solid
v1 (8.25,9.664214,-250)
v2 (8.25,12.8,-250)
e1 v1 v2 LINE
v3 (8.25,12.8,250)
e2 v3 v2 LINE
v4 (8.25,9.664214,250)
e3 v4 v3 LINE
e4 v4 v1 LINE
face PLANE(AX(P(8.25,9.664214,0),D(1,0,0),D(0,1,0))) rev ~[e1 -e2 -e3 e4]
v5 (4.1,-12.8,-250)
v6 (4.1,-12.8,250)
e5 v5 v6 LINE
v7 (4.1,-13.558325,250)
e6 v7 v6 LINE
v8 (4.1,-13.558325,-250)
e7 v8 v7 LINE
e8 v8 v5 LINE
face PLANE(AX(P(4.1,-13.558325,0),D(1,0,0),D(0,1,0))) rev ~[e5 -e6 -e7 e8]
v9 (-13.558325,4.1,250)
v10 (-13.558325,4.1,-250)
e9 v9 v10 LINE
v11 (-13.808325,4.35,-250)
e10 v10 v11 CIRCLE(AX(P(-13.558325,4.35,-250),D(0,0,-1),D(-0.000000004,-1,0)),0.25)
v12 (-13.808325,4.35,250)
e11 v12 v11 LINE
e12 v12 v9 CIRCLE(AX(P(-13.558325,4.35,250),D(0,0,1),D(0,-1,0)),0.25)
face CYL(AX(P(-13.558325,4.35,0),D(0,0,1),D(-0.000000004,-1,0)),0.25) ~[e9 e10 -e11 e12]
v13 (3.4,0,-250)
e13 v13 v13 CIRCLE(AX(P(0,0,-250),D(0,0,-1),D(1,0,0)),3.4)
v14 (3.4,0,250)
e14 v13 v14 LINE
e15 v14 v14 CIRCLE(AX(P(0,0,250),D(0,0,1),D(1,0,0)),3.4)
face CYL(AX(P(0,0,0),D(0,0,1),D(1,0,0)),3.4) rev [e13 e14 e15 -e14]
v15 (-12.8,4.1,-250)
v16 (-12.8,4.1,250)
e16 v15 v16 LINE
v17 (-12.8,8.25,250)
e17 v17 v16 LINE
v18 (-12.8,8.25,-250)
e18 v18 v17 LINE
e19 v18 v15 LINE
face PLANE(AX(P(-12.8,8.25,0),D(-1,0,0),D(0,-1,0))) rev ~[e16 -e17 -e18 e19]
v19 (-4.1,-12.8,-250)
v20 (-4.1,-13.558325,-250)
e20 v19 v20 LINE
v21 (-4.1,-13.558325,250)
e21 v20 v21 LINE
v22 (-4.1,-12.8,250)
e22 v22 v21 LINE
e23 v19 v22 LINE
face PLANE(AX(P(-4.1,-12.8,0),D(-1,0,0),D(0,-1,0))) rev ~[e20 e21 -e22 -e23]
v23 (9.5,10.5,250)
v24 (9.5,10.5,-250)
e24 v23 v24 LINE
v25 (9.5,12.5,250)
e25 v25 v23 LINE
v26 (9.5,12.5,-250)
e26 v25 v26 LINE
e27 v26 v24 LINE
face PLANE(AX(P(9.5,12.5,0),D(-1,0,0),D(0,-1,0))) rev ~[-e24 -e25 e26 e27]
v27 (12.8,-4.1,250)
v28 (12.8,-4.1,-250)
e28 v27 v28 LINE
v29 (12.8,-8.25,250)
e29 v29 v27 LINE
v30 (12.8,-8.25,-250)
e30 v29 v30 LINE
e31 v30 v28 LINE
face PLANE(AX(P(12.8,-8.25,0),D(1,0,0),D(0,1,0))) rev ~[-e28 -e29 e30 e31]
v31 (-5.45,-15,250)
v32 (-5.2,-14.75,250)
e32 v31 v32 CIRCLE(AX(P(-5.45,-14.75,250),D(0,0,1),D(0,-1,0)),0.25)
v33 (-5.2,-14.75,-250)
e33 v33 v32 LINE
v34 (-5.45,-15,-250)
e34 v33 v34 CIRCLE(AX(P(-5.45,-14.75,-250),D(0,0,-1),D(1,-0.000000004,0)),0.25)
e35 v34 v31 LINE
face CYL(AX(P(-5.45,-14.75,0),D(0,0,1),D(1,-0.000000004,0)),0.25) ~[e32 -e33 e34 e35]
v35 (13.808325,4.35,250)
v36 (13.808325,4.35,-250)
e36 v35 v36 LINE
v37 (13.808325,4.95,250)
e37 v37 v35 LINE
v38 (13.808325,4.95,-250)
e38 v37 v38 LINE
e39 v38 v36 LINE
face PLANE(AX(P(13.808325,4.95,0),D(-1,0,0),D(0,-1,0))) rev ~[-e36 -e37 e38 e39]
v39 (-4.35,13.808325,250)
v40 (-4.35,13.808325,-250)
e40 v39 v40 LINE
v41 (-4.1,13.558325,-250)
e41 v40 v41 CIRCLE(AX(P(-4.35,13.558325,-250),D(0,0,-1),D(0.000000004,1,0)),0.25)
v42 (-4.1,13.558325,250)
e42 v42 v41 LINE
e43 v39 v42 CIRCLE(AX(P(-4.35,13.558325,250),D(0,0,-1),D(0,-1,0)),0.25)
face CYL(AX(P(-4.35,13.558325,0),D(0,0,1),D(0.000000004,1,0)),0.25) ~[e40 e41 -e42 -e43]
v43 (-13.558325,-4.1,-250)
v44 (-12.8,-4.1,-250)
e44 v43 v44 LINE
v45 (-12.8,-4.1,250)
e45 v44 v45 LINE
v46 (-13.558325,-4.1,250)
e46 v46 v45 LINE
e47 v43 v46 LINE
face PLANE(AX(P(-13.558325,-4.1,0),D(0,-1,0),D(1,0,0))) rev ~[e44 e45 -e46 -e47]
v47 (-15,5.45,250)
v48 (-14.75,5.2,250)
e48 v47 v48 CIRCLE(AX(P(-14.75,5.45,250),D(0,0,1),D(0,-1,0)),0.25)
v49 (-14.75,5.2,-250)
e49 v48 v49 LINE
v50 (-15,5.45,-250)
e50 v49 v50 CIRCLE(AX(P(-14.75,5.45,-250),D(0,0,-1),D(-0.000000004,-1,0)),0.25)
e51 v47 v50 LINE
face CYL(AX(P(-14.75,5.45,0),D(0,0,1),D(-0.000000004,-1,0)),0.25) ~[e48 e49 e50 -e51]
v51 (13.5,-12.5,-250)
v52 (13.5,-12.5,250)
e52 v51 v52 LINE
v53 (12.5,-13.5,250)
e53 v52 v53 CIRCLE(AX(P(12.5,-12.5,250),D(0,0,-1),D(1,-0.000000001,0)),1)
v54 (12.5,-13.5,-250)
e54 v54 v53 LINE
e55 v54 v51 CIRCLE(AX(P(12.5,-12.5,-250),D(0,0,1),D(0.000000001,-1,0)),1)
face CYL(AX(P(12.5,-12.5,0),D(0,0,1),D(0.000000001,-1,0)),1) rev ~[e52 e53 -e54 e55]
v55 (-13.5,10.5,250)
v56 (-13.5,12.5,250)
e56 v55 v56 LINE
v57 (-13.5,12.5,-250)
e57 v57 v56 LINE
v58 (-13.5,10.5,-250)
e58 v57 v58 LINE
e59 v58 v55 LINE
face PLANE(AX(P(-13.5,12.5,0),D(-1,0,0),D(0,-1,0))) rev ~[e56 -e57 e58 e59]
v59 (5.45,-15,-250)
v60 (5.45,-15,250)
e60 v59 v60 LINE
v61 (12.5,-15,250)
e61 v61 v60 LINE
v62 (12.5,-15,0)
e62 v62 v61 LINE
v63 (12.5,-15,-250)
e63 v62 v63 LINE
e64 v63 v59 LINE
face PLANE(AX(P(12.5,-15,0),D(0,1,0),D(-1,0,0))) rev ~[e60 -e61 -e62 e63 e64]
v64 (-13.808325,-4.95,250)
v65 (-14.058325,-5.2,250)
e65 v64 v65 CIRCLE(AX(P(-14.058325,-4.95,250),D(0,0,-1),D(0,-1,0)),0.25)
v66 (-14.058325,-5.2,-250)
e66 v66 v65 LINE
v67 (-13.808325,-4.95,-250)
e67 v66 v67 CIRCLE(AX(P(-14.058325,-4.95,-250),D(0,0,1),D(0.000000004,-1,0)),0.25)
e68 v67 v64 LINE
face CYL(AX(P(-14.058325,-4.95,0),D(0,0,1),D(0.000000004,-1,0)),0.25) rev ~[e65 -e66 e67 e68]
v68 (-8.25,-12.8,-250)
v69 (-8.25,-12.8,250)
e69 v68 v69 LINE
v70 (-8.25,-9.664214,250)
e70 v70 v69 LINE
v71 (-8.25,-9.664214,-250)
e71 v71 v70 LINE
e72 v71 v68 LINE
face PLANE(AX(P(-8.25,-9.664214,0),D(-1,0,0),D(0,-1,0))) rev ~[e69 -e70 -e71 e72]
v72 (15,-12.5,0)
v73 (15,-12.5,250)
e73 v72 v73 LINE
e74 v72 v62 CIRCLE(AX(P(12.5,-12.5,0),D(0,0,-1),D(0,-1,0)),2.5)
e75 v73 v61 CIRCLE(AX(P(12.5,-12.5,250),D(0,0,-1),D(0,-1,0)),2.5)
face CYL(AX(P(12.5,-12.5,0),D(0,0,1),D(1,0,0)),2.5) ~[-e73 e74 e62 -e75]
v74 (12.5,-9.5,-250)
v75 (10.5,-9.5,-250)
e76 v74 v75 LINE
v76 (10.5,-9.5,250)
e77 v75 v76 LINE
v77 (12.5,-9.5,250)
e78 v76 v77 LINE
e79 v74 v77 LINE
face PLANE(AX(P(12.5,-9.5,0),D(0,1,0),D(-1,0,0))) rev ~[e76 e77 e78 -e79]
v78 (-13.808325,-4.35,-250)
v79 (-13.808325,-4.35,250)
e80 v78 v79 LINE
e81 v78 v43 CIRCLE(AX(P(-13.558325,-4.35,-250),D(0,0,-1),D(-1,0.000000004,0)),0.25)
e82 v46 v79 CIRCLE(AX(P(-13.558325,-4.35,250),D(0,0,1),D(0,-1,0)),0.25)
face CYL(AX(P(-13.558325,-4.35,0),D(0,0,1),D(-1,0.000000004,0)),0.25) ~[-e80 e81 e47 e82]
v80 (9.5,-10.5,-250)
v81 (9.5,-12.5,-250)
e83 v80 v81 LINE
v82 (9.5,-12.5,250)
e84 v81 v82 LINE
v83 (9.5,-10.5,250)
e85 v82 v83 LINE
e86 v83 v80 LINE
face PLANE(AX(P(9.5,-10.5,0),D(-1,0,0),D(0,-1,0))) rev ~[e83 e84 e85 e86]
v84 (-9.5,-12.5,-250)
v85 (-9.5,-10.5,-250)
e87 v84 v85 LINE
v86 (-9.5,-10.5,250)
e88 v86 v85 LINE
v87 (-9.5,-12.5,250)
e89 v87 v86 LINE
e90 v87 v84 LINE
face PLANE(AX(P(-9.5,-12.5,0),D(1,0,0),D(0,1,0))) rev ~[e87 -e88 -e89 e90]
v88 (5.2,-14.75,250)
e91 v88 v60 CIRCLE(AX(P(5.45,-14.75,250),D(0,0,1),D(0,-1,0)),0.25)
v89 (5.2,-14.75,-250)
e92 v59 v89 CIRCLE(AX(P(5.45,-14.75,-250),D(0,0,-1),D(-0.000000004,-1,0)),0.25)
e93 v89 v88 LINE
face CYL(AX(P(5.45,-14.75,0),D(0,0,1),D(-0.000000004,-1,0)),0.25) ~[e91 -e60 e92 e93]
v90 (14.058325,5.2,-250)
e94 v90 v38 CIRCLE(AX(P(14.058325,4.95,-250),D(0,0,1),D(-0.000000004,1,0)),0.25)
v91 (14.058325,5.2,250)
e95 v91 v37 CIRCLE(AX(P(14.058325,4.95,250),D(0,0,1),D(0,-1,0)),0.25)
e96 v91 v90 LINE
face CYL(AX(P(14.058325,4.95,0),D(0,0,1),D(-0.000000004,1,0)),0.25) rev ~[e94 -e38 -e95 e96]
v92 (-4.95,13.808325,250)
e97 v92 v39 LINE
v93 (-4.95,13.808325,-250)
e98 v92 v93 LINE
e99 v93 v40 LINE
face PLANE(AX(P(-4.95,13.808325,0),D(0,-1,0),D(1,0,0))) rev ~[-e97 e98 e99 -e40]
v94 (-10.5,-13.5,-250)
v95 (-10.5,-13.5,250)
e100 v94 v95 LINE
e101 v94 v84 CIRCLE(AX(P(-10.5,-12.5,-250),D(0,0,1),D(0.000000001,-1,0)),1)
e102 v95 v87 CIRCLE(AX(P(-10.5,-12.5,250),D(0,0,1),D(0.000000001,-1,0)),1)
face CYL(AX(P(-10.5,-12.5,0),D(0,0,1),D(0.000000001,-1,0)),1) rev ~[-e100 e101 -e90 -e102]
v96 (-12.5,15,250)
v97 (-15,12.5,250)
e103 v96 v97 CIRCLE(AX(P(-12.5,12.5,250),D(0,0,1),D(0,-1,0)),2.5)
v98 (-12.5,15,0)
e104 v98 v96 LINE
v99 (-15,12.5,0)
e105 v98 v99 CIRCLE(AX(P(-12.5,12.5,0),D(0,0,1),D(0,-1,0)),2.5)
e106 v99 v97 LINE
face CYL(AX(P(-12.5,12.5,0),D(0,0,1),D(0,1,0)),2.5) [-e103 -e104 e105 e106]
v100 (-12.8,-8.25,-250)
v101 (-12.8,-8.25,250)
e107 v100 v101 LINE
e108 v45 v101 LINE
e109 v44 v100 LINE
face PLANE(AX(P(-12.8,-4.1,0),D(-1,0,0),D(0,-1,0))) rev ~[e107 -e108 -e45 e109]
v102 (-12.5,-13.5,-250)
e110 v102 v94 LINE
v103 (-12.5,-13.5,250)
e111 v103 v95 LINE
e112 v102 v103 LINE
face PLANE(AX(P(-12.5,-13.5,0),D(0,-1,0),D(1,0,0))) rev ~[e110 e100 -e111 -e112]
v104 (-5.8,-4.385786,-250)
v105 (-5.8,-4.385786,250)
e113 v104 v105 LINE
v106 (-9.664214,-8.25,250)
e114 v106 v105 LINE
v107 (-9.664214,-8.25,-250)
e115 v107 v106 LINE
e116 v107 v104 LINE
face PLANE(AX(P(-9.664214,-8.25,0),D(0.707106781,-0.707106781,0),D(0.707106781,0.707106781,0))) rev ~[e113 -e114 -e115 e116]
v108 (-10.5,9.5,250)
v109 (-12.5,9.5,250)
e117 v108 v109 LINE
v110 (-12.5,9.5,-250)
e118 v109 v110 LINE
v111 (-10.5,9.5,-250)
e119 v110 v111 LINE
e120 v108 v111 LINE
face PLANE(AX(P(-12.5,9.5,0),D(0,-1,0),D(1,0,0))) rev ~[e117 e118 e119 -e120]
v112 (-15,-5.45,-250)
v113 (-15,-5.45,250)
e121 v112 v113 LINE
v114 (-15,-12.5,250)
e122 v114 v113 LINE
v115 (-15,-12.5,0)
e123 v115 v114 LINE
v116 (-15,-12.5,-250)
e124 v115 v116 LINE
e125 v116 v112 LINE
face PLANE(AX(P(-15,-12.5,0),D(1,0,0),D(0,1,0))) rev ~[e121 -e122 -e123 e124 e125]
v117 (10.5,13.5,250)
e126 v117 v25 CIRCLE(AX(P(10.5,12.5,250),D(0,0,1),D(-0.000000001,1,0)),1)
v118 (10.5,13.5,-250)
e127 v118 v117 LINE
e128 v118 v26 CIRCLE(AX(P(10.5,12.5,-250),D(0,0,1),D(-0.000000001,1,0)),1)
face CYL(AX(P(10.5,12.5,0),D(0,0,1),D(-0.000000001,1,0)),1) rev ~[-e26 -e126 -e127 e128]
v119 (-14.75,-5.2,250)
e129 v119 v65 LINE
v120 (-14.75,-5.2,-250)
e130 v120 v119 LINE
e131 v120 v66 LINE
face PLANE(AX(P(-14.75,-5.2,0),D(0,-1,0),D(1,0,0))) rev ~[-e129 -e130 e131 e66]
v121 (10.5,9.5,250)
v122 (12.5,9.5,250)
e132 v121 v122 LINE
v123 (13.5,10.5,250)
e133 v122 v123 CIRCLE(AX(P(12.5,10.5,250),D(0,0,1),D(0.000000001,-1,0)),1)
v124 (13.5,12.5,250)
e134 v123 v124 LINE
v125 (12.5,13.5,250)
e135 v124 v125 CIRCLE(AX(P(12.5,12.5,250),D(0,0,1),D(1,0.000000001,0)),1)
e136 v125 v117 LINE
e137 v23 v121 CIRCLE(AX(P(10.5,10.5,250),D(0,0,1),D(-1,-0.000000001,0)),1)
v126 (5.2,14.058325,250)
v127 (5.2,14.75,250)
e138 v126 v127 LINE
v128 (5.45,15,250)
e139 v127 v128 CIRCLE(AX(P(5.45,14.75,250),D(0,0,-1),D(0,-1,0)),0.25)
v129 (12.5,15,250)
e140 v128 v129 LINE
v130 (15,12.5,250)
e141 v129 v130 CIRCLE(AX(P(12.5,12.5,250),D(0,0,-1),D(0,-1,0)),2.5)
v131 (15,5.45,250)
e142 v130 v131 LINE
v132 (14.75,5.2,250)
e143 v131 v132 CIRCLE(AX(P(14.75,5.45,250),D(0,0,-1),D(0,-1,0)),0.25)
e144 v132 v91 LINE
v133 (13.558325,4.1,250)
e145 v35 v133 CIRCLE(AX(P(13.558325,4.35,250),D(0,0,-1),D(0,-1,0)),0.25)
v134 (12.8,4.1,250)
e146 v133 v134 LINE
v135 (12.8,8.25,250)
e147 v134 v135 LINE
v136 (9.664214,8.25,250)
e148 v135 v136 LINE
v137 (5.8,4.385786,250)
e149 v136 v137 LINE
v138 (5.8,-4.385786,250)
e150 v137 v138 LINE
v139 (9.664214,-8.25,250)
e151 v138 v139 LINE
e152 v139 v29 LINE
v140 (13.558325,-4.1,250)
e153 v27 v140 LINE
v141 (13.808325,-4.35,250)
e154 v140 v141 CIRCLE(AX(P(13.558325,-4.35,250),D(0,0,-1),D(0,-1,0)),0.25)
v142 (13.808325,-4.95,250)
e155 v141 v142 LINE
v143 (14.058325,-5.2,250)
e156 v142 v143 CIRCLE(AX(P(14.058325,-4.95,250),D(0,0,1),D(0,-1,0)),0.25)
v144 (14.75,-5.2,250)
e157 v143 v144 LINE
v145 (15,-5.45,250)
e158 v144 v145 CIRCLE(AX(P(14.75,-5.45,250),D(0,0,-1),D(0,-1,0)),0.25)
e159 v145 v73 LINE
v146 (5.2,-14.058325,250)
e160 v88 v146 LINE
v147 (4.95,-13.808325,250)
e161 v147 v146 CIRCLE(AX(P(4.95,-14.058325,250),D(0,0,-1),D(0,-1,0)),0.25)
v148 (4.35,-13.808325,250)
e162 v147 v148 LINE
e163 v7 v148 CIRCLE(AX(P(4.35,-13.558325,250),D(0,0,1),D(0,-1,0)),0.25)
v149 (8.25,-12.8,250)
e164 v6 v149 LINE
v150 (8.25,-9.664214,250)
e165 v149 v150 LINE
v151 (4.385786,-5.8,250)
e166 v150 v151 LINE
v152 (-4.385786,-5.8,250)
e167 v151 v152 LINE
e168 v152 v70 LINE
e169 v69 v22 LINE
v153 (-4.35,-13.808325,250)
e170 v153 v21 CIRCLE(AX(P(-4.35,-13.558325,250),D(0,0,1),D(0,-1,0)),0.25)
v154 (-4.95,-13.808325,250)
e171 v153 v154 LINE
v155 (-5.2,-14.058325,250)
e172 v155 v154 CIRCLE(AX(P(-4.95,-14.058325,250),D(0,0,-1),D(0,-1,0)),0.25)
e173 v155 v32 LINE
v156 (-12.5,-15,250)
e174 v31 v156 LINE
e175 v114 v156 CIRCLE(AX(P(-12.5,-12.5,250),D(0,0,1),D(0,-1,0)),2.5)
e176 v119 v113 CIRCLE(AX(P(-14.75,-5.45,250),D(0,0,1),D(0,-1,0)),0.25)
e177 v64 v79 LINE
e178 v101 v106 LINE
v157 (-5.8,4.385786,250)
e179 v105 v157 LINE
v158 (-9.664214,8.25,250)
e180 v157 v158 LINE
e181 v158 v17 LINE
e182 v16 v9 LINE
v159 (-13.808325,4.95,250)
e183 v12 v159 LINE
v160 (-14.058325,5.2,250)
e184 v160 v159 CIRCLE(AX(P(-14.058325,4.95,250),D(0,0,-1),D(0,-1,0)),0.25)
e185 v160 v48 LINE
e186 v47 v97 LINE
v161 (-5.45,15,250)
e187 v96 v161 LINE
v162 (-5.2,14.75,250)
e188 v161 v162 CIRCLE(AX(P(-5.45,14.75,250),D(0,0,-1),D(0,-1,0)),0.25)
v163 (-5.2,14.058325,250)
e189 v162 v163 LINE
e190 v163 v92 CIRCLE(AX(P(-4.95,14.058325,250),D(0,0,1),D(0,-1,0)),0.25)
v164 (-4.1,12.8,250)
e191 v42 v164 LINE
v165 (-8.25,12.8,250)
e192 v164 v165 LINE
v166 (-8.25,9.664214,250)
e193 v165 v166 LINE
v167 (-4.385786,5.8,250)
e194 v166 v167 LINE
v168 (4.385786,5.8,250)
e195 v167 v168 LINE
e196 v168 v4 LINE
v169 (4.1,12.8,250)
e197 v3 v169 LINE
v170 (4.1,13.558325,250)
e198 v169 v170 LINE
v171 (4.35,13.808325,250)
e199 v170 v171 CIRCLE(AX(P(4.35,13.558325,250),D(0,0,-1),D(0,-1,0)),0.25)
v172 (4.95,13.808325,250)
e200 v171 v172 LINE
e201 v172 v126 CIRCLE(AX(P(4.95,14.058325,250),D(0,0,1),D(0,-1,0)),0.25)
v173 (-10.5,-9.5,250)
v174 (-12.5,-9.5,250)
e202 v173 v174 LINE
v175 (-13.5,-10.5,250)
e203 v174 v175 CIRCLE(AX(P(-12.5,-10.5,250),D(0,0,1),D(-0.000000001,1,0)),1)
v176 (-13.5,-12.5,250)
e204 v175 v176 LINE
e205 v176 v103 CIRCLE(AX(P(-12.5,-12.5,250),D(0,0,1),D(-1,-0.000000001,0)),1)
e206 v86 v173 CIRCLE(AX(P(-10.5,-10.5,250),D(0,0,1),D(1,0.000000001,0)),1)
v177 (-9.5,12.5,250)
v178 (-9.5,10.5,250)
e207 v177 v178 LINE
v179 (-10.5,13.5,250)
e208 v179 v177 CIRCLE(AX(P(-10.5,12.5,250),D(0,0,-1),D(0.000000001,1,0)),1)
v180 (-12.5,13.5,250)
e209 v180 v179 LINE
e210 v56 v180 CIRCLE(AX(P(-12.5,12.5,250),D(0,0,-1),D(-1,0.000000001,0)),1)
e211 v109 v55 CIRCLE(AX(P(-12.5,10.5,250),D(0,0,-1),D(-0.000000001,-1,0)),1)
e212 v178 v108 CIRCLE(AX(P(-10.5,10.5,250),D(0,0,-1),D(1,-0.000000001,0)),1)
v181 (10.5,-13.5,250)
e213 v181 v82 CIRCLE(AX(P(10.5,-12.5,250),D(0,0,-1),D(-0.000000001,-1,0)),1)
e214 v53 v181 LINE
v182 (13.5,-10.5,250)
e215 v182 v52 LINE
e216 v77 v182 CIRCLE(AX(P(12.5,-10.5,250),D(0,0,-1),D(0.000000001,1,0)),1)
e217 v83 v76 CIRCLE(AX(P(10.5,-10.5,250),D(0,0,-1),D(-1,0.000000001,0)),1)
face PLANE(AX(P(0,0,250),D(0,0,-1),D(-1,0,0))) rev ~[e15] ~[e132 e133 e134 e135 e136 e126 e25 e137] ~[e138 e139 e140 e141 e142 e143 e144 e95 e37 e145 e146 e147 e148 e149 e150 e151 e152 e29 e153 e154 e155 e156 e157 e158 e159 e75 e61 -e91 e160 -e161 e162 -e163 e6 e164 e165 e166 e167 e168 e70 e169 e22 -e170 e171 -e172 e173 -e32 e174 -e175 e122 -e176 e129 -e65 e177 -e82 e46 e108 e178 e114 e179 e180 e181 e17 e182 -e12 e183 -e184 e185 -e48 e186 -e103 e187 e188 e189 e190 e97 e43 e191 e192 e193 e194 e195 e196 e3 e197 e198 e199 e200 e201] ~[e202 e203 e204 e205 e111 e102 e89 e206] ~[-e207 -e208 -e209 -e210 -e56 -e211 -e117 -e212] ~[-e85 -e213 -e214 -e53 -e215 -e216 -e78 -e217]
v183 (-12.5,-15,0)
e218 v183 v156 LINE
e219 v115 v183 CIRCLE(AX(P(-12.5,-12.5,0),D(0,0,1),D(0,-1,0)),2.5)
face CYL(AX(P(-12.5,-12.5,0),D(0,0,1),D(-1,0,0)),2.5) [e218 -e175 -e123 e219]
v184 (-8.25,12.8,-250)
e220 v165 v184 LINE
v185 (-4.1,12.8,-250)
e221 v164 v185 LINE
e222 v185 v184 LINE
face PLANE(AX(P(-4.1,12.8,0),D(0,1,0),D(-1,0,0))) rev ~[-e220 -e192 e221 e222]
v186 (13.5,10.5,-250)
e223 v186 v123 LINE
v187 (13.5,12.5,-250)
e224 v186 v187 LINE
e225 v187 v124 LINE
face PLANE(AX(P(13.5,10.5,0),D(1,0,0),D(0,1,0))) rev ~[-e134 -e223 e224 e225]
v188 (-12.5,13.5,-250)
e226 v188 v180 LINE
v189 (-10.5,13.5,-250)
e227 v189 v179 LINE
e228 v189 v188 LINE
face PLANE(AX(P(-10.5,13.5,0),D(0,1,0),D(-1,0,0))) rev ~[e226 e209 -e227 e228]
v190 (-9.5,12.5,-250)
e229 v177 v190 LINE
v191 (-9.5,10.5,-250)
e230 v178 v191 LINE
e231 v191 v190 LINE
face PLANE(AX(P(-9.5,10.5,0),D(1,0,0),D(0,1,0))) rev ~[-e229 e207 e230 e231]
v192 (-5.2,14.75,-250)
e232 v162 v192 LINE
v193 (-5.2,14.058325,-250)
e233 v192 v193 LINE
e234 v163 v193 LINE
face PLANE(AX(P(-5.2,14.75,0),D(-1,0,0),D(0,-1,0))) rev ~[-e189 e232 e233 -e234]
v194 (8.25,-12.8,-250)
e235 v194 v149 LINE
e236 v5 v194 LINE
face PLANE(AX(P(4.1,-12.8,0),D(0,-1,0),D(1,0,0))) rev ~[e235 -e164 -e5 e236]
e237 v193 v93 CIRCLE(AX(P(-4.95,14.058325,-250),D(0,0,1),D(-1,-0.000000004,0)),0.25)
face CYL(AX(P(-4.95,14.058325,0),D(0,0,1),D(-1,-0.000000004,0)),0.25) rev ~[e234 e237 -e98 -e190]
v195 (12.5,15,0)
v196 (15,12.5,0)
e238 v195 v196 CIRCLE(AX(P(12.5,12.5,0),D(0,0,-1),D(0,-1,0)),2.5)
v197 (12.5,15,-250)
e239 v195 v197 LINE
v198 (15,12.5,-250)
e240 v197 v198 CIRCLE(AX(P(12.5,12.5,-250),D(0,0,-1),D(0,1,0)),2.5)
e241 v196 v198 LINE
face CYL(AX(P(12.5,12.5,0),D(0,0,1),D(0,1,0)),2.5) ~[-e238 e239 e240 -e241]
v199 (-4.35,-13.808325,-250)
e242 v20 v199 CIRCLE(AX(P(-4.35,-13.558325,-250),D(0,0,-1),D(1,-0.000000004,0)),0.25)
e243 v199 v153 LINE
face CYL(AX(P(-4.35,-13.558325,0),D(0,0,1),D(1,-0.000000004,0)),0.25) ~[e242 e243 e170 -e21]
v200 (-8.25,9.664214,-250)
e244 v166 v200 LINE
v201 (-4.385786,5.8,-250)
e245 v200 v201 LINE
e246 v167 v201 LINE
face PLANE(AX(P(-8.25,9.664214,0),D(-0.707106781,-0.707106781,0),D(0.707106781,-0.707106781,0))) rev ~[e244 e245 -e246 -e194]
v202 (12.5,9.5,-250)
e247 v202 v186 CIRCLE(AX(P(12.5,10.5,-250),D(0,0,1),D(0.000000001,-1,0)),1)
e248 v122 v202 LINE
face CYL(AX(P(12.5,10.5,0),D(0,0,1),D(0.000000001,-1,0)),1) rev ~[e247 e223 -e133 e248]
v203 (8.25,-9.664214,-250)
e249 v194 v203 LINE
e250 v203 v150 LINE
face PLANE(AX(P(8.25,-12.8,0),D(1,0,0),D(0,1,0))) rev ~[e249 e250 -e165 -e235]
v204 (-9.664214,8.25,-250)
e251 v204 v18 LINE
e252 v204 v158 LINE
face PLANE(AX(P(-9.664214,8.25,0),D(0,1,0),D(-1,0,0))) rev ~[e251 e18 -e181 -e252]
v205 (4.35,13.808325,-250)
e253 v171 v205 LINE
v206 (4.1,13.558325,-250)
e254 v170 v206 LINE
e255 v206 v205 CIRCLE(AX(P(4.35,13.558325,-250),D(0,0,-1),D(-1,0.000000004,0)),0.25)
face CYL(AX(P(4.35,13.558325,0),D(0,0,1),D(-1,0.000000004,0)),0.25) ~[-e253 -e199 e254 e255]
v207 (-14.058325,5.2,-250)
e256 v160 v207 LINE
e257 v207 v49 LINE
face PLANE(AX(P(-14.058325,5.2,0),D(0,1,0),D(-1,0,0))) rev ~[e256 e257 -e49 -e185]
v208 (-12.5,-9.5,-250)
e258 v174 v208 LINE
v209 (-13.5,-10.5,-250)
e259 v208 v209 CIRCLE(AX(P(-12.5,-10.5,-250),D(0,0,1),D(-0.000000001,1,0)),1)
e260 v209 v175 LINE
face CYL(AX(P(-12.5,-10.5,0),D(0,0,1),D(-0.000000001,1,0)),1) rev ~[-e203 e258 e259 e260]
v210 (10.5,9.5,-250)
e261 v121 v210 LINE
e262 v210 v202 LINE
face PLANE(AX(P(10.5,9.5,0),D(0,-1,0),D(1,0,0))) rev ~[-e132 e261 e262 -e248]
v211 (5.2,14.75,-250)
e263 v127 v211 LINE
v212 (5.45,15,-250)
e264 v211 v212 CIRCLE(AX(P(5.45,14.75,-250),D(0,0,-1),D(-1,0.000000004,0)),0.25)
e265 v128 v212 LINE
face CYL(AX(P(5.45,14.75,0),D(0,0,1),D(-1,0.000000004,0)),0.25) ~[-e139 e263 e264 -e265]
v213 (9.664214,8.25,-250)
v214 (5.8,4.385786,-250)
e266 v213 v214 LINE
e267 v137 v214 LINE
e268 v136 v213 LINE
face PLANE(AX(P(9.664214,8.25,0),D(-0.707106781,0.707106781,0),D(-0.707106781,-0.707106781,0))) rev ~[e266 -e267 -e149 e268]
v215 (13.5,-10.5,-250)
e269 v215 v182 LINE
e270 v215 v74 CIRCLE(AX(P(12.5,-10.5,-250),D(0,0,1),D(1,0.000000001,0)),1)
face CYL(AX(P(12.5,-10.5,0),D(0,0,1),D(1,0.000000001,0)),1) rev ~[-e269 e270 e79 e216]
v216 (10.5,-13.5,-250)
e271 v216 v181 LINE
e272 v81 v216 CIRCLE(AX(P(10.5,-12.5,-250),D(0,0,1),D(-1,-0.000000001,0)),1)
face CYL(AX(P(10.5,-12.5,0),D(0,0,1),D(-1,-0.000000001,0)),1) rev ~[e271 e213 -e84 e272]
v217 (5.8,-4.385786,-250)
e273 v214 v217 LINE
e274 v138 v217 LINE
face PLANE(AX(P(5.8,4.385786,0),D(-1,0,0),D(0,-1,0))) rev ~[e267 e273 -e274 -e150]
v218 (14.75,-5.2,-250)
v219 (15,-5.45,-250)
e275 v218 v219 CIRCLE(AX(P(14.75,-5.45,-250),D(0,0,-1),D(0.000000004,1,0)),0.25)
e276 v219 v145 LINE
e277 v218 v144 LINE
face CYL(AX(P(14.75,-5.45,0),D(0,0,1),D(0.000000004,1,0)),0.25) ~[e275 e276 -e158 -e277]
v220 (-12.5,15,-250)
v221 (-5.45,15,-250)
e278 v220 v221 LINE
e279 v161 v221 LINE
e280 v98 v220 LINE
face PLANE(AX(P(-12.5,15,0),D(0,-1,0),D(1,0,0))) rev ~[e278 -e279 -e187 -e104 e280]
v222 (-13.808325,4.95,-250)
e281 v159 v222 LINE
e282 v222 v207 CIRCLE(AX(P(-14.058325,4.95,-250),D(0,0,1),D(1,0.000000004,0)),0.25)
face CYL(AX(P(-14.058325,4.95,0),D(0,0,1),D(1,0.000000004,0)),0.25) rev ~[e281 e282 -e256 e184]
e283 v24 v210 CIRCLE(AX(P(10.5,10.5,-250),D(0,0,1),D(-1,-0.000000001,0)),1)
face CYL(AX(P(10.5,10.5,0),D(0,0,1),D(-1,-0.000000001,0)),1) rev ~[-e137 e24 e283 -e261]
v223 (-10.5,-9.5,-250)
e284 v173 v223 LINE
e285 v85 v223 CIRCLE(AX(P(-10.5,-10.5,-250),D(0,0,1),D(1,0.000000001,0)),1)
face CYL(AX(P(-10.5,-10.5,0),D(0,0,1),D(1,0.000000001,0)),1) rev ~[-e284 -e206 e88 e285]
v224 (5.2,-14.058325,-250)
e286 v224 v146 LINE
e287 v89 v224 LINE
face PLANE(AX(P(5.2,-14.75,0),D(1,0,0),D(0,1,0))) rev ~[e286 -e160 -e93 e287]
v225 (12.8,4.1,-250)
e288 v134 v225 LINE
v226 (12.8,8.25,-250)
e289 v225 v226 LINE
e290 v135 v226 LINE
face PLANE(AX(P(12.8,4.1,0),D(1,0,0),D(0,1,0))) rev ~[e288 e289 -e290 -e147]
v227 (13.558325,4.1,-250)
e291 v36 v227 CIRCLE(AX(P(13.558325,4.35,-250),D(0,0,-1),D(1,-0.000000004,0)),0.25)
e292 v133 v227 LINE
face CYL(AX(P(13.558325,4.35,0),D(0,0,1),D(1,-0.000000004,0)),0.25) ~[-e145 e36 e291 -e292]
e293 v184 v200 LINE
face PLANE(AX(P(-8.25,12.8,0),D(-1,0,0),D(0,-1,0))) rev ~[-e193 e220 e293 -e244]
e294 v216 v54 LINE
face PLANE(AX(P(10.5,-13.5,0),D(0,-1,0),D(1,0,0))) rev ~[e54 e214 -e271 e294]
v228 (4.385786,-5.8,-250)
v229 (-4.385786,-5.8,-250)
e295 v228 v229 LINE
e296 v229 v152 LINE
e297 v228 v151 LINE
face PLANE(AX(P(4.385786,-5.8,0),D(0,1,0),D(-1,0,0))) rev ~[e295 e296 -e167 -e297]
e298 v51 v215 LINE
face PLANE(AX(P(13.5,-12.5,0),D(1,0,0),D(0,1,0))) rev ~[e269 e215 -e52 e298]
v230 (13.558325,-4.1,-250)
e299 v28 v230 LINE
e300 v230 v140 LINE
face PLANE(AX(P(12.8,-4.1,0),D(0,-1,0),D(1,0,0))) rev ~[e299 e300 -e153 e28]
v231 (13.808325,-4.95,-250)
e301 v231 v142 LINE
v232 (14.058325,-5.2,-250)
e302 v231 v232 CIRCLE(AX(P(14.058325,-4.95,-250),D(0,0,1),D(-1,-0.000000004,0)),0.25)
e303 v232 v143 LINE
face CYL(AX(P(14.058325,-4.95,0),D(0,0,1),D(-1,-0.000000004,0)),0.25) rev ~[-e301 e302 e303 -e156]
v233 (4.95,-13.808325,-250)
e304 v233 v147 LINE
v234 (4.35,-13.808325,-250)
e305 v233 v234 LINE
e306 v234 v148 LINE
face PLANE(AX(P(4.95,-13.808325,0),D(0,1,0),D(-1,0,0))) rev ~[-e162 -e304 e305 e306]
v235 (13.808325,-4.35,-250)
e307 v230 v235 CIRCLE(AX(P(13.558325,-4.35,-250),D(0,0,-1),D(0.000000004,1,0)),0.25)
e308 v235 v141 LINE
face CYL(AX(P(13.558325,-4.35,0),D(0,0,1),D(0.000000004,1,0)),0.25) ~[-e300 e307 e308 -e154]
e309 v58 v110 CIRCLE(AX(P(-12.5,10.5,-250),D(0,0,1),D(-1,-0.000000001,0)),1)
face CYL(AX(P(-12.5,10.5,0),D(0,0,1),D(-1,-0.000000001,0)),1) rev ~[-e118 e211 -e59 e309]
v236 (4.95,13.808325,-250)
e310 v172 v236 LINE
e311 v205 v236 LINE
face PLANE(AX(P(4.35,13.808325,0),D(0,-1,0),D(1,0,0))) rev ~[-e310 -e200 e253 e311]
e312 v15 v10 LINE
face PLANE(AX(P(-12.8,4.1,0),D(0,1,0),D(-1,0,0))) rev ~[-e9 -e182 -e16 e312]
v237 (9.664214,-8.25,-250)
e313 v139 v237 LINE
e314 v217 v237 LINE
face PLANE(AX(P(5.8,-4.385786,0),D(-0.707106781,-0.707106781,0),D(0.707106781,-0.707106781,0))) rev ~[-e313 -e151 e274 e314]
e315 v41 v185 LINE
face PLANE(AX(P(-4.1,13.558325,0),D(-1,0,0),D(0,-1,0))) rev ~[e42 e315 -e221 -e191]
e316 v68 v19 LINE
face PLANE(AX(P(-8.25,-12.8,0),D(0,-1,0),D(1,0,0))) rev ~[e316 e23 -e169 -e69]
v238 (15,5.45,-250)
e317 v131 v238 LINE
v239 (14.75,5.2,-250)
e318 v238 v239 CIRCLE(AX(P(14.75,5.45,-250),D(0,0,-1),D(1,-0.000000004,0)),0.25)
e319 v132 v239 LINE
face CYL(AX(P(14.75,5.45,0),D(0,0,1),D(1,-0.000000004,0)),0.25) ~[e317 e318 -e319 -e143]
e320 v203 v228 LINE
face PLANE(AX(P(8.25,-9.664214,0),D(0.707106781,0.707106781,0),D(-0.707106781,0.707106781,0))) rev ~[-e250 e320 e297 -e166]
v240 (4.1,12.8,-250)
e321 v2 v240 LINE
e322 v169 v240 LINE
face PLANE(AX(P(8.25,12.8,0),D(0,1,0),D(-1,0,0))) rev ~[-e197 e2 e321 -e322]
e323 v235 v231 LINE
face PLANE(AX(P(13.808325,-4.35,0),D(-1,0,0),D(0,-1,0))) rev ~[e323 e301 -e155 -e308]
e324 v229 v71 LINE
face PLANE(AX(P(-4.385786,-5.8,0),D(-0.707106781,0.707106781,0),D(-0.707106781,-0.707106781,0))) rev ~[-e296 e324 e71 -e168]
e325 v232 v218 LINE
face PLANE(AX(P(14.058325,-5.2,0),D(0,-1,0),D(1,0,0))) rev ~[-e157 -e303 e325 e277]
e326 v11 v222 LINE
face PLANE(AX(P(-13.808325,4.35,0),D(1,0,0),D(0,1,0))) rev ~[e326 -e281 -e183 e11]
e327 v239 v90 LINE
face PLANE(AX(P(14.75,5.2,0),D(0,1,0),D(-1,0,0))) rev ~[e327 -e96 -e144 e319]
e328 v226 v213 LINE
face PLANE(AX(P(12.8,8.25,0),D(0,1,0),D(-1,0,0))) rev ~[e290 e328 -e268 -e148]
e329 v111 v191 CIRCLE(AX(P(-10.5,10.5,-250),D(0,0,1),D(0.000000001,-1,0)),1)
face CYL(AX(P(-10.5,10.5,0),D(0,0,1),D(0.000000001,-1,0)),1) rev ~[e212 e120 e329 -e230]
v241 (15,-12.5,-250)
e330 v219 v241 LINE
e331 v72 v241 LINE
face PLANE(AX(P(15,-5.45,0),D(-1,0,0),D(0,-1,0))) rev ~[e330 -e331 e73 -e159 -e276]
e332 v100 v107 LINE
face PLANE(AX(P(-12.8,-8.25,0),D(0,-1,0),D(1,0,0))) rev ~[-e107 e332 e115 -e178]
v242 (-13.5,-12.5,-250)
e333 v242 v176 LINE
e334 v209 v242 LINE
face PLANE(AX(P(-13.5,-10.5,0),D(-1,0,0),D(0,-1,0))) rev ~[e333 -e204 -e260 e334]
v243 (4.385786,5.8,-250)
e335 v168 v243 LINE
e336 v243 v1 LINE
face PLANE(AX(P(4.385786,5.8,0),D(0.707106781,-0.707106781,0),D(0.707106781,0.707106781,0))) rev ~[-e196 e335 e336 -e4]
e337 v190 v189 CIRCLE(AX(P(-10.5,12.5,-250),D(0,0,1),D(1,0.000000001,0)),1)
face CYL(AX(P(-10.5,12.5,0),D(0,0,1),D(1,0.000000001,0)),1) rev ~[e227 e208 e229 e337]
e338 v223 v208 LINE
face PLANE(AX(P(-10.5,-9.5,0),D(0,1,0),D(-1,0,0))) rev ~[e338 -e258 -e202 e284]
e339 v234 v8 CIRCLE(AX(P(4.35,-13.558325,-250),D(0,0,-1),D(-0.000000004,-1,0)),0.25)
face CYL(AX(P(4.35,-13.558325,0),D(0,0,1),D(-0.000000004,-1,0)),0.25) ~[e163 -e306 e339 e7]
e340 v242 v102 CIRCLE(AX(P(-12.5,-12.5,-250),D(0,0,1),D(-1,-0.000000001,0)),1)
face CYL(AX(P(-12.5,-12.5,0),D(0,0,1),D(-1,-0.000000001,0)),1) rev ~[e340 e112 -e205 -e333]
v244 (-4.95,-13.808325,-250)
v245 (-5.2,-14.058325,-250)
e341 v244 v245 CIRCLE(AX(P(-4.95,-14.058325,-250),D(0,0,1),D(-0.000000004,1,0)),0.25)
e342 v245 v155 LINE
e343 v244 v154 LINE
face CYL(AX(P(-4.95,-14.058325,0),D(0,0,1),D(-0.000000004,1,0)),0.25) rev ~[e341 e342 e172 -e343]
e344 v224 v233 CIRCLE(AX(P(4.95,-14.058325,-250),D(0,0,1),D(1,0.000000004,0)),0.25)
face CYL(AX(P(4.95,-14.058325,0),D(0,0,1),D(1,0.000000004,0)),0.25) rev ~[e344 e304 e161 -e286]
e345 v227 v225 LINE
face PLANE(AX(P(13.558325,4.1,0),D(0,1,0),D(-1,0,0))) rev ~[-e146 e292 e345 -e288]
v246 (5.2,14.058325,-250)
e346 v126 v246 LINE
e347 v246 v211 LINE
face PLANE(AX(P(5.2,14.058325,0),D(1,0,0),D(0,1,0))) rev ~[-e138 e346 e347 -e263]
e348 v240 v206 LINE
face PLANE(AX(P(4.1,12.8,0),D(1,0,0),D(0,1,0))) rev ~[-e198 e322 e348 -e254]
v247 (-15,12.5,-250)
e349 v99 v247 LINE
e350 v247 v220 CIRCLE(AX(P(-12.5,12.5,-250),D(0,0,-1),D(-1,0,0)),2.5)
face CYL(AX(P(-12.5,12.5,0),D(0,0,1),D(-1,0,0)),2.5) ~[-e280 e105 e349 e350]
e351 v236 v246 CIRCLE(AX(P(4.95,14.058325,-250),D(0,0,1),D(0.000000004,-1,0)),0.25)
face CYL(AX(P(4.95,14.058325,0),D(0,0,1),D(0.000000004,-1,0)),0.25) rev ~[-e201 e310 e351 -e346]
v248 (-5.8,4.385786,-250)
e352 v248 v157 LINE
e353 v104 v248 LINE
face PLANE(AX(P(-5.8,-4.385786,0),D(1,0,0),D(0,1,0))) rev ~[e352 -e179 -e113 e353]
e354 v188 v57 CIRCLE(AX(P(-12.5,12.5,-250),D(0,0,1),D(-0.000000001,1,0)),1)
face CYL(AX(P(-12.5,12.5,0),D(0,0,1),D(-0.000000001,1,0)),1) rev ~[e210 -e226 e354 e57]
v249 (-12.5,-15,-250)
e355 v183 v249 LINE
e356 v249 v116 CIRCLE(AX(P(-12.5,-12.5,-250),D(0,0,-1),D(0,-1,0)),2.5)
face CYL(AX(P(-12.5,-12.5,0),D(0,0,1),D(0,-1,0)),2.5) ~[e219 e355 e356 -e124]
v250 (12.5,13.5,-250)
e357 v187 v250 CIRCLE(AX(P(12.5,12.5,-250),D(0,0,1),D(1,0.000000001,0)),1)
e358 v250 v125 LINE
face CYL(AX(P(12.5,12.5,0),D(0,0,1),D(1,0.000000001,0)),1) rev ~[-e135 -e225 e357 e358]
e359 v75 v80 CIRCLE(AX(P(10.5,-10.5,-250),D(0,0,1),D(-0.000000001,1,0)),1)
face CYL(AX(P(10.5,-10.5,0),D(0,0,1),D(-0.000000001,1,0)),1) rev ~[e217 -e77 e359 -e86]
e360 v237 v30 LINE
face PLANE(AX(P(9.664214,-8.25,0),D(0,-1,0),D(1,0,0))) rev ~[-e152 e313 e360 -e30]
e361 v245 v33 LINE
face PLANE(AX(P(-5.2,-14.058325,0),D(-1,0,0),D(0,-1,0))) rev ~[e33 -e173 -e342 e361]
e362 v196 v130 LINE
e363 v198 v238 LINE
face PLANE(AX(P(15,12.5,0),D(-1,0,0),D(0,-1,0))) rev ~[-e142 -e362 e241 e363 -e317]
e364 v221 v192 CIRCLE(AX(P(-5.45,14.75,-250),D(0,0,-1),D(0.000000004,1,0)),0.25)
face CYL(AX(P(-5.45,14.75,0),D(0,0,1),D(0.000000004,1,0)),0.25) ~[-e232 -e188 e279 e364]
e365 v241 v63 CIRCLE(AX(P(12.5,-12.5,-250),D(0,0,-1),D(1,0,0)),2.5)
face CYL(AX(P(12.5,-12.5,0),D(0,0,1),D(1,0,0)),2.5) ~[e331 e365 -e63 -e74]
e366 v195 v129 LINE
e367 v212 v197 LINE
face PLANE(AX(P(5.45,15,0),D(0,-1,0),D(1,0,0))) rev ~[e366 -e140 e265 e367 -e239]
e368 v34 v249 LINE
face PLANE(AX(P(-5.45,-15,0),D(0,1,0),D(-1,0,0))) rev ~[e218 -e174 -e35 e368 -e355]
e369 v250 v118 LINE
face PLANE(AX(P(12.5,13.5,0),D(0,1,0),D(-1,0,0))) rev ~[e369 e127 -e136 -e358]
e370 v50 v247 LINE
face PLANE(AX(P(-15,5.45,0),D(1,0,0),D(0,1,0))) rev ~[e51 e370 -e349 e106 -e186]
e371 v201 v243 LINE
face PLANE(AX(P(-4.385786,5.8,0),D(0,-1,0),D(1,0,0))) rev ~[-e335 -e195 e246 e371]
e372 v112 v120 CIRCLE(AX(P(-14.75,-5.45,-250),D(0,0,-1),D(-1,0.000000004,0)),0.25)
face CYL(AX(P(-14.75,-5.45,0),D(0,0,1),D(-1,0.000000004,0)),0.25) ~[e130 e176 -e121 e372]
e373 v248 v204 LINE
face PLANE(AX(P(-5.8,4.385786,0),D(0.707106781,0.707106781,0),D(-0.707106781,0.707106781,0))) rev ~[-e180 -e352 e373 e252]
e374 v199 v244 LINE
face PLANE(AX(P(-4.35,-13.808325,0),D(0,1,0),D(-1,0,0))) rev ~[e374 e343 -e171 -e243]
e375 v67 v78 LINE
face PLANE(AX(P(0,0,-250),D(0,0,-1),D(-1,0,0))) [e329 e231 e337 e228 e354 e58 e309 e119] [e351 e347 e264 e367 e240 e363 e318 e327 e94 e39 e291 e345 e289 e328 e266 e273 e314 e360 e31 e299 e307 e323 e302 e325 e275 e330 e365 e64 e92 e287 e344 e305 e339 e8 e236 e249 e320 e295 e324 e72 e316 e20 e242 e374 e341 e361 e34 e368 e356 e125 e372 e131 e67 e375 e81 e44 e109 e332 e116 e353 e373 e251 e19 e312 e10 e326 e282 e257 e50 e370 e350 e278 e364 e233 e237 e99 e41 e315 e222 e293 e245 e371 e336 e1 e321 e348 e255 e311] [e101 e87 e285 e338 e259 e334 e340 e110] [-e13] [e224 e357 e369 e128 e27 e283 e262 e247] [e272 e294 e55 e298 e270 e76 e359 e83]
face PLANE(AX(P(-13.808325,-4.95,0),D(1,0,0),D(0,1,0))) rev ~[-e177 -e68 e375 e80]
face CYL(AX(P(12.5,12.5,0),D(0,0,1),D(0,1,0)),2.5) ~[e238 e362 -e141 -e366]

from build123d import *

# Parameters (mm, degrees)
BOSS_EXTRUDE1_DEPTH = 250
SKETCH2_R           = 3.4
CUT_EXTRUDE1_DEPTH  = 251.898385806
FILLET1_R           = 2.5
FILLET2_R           = 0.25
SKETCH3_R           = 3.4
BOSS_EXTRUDE3_DEPTH = 250


with BuildPart() as part:
    # Sketch1 → Boss-Extrude1 (new body)
    with BuildSketch(Plane.XY):
        Polygon((-15, 15), (-5.2, 15), (-5.2, 13.808325472), (-4.1, 13.808325472), (-4.1, 12.8), (-8.25, 12.8), (-8.25, 9.664213562), (-4.385786438, 5.8), (4.385786438, 5.8), (8.25, 9.664213562), (8.25, 12.8), (4.1, 12.8), (4.1, 13.808325472), (5.2, 13.808325472), (5.2, 15), (15, 15), (15, 5.2), (13.808325472, 5.2), (13.808325472, 4.1), (12.8, 4.1), (12.8, 8.25), (9.664213562, 8.25), (5.8, 4.385786438), (5.8, -4.385786438), (9.664213562, -8.25), (12.8, -8.25), (12.8, -4.1), (13.808325472, -4.1), (13.808325472, -5.2), (15, -5.2), (15, -15), (5.2, -15), (5.2, -13.808325472), (4.1, -13.808325472), (4.1, -12.8), (8.25, -12.8), (8.25, -9.664213562), (4.385786438, -5.8), (-4.385786438, -5.8), (-8.25, -9.664213562), (-8.25, -12.8), (-4.1, -12.8), (-4.1, -13.808325472), (-5.2, -13.808325472), (-5.2, -15), (-15, -15), (-15, -5.2), (-13.808325472, -5.2), (-13.808325472, -4.1), (-12.8, -4.1), (-12.8, -8.25), (-9.664213562, -8.25), (-5.8, -4.385786438), (-5.8, 4.385786438), (-9.664213562, 8.25), (-12.8, 8.25), (-12.8, 4.1), (-13.808325472, 4.1), (-13.808325472, 5.2), (-15, 5.2), align=None)
    extrude(amount=BOSS_EXTRUDE1_DEPTH)

    # Sketch2 → Cut-Extrude1 (cut, through all)
    with BuildSketch(Plane.XY.offset(250)):
        Circle(SKETCH2_R)
        with BuildLine():
            Line((-12.5, 13.5), (-10.5, 13.5))
            ThreePointArc((-10.5, 13.5), (-9.792893219, 13.207106781), (-9.5, 12.5))
            Line((-9.5, 12.5), (-9.5, 10.5))
            ThreePointArc((-9.5, 10.5), (-9.792893219, 9.792893219), (-10.5, 9.5))
            Line((-10.5, 9.5), (-12.5, 9.5))
            ThreePointArc((-12.5, 9.5), (-13.207106781, 9.792893219), (-13.5, 10.5))
            Line((-13.5, 10.5), (-13.5, 12.5))
            ThreePointArc((-13.5, 12.5), (-13.207106781, 13.207106781), (-12.5, 13.5))
        make_face()
        with BuildLine():
            Line((9.5, 12.5), (9.5, 10.5))
            ThreePointArc((9.5, 10.5), (9.792893219, 9.792893219), (10.5, 9.5))
            Line((10.5, 9.5), (12.5, 9.5))
            ThreePointArc((12.5, 9.5), (13.207106781, 9.792893219), (13.5, 10.5))
            Line((13.5, 10.5), (13.5, 12.5))
            ThreePointArc((13.5, 12.5), (13.207106781, 13.207106781), (12.5, 13.5))
            Line((12.5, 13.5), (10.5, 13.5))
            ThreePointArc((10.5, 13.5), (9.792893219, 13.207106781), (9.5, 12.5))
        make_face()
        with BuildLine():
            Line((12.5, -13.5), (10.5, -13.5))
            ThreePointArc((10.5, -13.5), (9.792893219, -13.207106781), (9.5, -12.5))
            Line((9.5, -12.5), (9.5, -10.5))
            ThreePointArc((9.5, -10.5), (9.792893219, -9.792893219), (10.5, -9.5))
            Line((10.5, -9.5), (12.5, -9.5))
            ThreePointArc((12.5, -9.5), (13.207106781, -9.792893219), (13.5, -10.5))
            Line((13.5, -10.5), (13.5, -12.5))
            ThreePointArc((13.5, -12.5), (13.207106781, -13.207106781), (12.5, -13.5))
        make_face()
        with BuildLine():
            Line((-9.5, -12.5), (-9.5, -10.5))
            ThreePointArc((-9.5, -10.5), (-9.792893219, -9.792893219), (-10.5, -9.5))
            Line((-10.5, -9.5), (-12.5, -9.5))
            ThreePointArc((-12.5, -9.5), (-13.207106781, -9.792893219), (-13.5, -10.5))
            Line((-13.5, -10.5), (-13.5, -12.5))
            ThreePointArc((-13.5, -12.5), (-13.207106781, -13.207106781), (-12.5, -13.5))
            Line((-12.5, -13.5), (-10.5, -13.5))
            ThreePointArc((-10.5, -13.5), (-9.792893219, -13.207106781), (-9.5, -12.5))
        make_face()
    extrude(amount=-CUT_EXTRUDE1_DEPTH, mode=Mode.SUBTRACT)

    # Fillet1
    fillet1_edges = [part.edges().sort_by_distance(p)[0] for p in [
        (15, -15, 125),
        (-15, -15, 125),
        (-15, 15, 125),
        (15, 15, 125),
    ]]
    fillet(fillet1_edges, radius=FILLET1_R)

    # Fillet2
    fillet2_edges = [part.edges().sort_by_distance(p)[0] for p in [
        (5.2, -15, 125),
        (5.2, -13.808325472, 125),
        (4.1, -13.808325472, 125),
        (-4.1, -13.808325472, 125),
        (-5.2, -13.808325472, 125),
        (-5.2, -15, 125),
        (-15, -5.2, 125),
        (-13.808325472, -5.2, 125),
        (-13.808325472, -4.1, 125),
        (-13.808325472, 4.1, 125),
        (-13.808325472, 5.2, 125),
        (-15, 5.2, 125),
        (-5.2, 15, 125),
        (-5.2, 13.808325472, 125),
        (-4.1, 13.808325472, 125),
        (4.1, 13.808325472, 125),
        (5.2, 13.808325472, 125),
        (5.2, 15, 125),
        (15, 5.2, 125),
        (13.808325472, 5.2, 125),
        (13.808325472, 4.1, 125),
        (13.808325472, -4.1, 125),
        (13.808325472, -5.2, 125),
        (15, -5.2, 125),
    ]]
    fillet(fillet2_edges, radius=FILLET2_R)

    # Sketch3 → Boss-Extrude3 (add)
    with BuildSketch(Plane(origin=(0, 0, 0), x_dir=(-1, 0, 0), z_dir=(0, 0, -1))):
        with BuildLine():
            Line((12.8, 4.1), (13.558325472, 4.1))
            ThreePointArc((13.558325472, 4.1), (13.735102167, 4.173223305), (13.808325472, 4.35))
            Line((13.808325472, 4.35), (13.808325472, 4.95))
            ThreePointArc((13.808325472, 4.95), (13.881548777, 5.126776695), (14.058325472, 5.2))
            Line((14.058325472, 5.2), (14.75, 5.2))
            ThreePointArc((14.75, 5.2), (14.926776695, 5.273223305), (15, 5.45))
            Line((15, 5.45), (15, 12.5))
            ThreePointArc((15, 12.5), (14.267766953, 14.267766953), (12.5, 15))
            Line((12.5, 15), (5.45, 15))
            ThreePointArc((5.45, 15), (5.273223305, 14.926776695), (5.2, 14.75))
            Line((5.2, 14.75), (5.2, 14.058325472))
            ThreePointArc((5.2, 14.058325472), (5.126776695, 13.881548777), (4.95, 13.808325472))
            Line((4.95, 13.808325472), (4.35, 13.808325472))
            ThreePointArc((4.35, 13.808325472), (4.173223305, 13.735102167), (4.1, 13.558325472))
            Line((4.1, 13.558325472), (4.1, 12.8))
            Line((4.1, 12.8), (8.25, 12.8))
            Line((8.25, 12.8), (8.25, 9.664213562))
            Line((8.25, 9.664213562), (4.385786438, 5.8))
            Line((4.385786438, 5.8), (-4.385786438, 5.8))
            Line((-4.385786438, 5.8), (-8.25, 9.664213562))
            Line((-8.25, 9.664213562), (-8.25, 12.8))
            Line((-8.25, 12.8), (-4.1, 12.8))
            Line((-4.1, 12.8), (-4.1, 13.558325472))
            ThreePointArc((-4.1, 13.558325472), (-4.173223305, 13.735102167), (-4.35, 13.808325472))
            Line((-4.35, 13.808325472), (-4.95, 13.808325472))
            ThreePointArc((-4.95, 13.808325472), (-5.126776695, 13.881548777), (-5.2, 14.058325472))
            Line((-5.2, 14.058325472), (-5.2, 14.75))
            ThreePointArc((-5.2, 14.75), (-5.273223305, 14.926776695), (-5.45, 15))
            Line((-5.45, 15), (-12.5, 15))
            ThreePointArc((-12.5, 15), (-14.267766953, 14.267766953), (-15, 12.5))
            Line((-15, 12.5), (-15, 5.45))
            ThreePointArc((-15, 5.45), (-14.926776695, 5.273223305), (-14.75, 5.2))
            Line((-14.75, 5.2), (-14.058325472, 5.2))
            ThreePointArc((-14.058325472, 5.2), (-13.881548777, 5.126776695), (-13.808325472, 4.95))
            Line((-13.808325472, 4.95), (-13.808325472, 4.35))
            ThreePointArc((-13.808325472, 4.35), (-13.735102167, 4.173223305), (-13.558325472, 4.1))
            Line((-13.558325472, 4.1), (-12.8, 4.1))
            Line((-12.8, 4.1), (-12.8, 8.25))
            Line((-12.8, 8.25), (-9.664213562, 8.25))
            Line((-9.664213562, 8.25), (-5.8, 4.385786438))
            Line((-5.8, 4.385786438), (-5.8, -4.385786438))
            Line((-5.8, -4.385786438), (-9.664213562, -8.25))
            Line((-9.664213562, -8.25), (-12.8, -8.25))
            Line((-12.8, -8.25), (-12.8, -4.1))
            Line((-12.8, -4.1), (-13.558325472, -4.1))
            ThreePointArc((-13.558325472, -4.1), (-13.735102167, -4.173223305), (-13.808325472, -4.35))
            Line((-13.808325472, -4.35), (-13.808325472, -4.95))
            ThreePointArc((-13.808325472, -4.95), (-13.881548777, -5.126776695), (-14.058325472, -5.2))
            Line((-14.058325472, -5.2), (-14.75, -5.2))
            ThreePointArc((-14.75, -5.2), (-14.926776695, -5.273223305), (-15, -5.45))
            Line((-15, -5.45), (-15, -12.5))
            ThreePointArc((-15, -12.5), (-14.267766953, -14.267766953), (-12.5, -15))
            Line((-12.5, -15), (-5.45, -15))
            ThreePointArc((-5.45, -15), (-5.273223305, -14.926776695), (-5.2, -14.75))
            Line((-5.2, -14.75), (-5.2, -14.058325472))
            ThreePointArc((-5.2, -14.058325472), (-5.126776695, -13.881548777), (-4.95, -13.808325472))
            Line((-4.95, -13.808325472), (-4.35, -13.808325472))
            ThreePointArc((-4.35, -13.808325472), (-4.173223305, -13.735102167), (-4.1, -13.558325472))
            Line((-4.1, -13.558325472), (-4.1, -12.8))
            Line((-4.1, -12.8), (-8.25, -12.8))
            Line((-8.25, -12.8), (-8.25, -9.664213562))
            Line((-8.25, -9.664213562), (-4.385786438, -5.8))
            Line((-4.385786438, -5.8), (4.385786438, -5.8))
            Line((4.385786438, -5.8), (8.25, -9.664213562))
            Line((8.25, -9.664213562), (8.25, -12.8))
            Line((8.25, -12.8), (4.1, -12.8))
            Line((4.1, -12.8), (4.1, -13.558325472))
            ThreePointArc((4.1, -13.558325472), (4.173223305, -13.735102167), (4.35, -13.808325472))
            Line((4.35, -13.808325472), (4.95, -13.808325472))
            ThreePointArc((4.95, -13.808325472), (5.126776695, -13.881548777), (5.2, -14.058325472))
            Line((5.2, -14.058325472), (5.2, -14.75))
            ThreePointArc((5.2, -14.75), (5.273223305, -14.926776695), (5.45, -15))
            Line((5.45, -15), (12.5, -15))
            ThreePointArc((12.5, -15), (14.267766953, -14.267766953), (15, -12.5))
            Line((15, -12.5), (15, -5.45))
            ThreePointArc((15, -5.45), (14.926776695, -5.273223305), (14.75, -5.2))
            Line((14.75, -5.2), (14.058325472, -5.2))
            ThreePointArc((14.058325472, -5.2), (13.881548777, -5.126776695), (13.808325472, -4.95))
            Line((13.808325472, -4.95), (13.808325472, -4.35))
            ThreePointArc((13.808325472, -4.35), (13.735102167, -4.173223305), (13.558325472, -4.1))
            Line((13.558325472, -4.1), (12.8, -4.1))
            Line((12.8, -4.1), (12.8, -8.25))
            Line((12.8, -8.25), (9.664213562, -8.25))
            Line((9.664213562, -8.25), (5.8, -4.385786438))
            Line((5.8, -4.385786438), (5.8, 4.385786438))
            Line((5.8, 4.385786438), (9.664213562, 8.25))
            Line((9.664213562, 8.25), (12.8, 8.25))
            Line((12.8, 8.25), (12.8, 4.1))
        make_face()
        with Locations(Location((0, 0, 0), (0, 0, 180))):
            Circle(SKETCH3_R, mode=Mode.SUBTRACT)
        with BuildLine():
            Line((-9.5, 12.5), (-9.5, 10.5))
            ThreePointArc((-9.5, 10.5), (-9.792893219, 9.792893219), (-10.5, 9.5))
            Line((-10.5, 9.5), (-12.5, 9.5))
            ThreePointArc((-12.5, 9.5), (-13.207106781, 9.792893219), (-13.5, 10.5))
            Line((-13.5, 10.5), (-13.5, 12.5))
            ThreePointArc((-13.5, 12.5), (-13.207106781, 13.207106781), (-12.5, 13.5))
            Line((-12.5, 13.5), (-10.5, 13.5))
            ThreePointArc((-10.5, 13.5), (-9.792893219, 13.207106781), (-9.5, 12.5))
        make_face(mode=Mode.SUBTRACT)
        with BuildLine():
            Line((12.5, 9.5), (10.5, 9.5))
            ThreePointArc((10.5, 9.5), (9.792893219, 9.792893219), (9.5, 10.5))
            Line((9.5, 10.5), (9.5, 12.5))
            ThreePointArc((9.5, 12.5), (9.792893219, 13.207106781), (10.5, 13.5))
            Line((10.5, 13.5), (12.5, 13.5))
            ThreePointArc((12.5, 13.5), (13.207106781, 13.207106781), (13.5, 12.5))
            Line((13.5, 12.5), (13.5, 10.5))
            ThreePointArc((13.5, 10.5), (13.207106781, 9.792893219), (12.5, 9.5))
        make_face(mode=Mode.SUBTRACT)
        with BuildLine():
            Line((9.5, -12.5), (9.5, -10.5))
            ThreePointArc((9.5, -10.5), (9.792893219, -9.792893219), (10.5, -9.5))
            Line((10.5, -9.5), (12.5, -9.5))
            ThreePointArc((12.5, -9.5), (13.207106781, -9.792893219), (13.5, -10.5))
            Line((13.5, -10.5), (13.5, -12.5))
            ThreePointArc((13.5, -12.5), (13.207106781, -13.207106781), (12.5, -13.5))
            Line((12.5, -13.5), (10.5, -13.5))
            ThreePointArc((10.5, -13.5), (9.792893219, -13.207106781), (9.5, -12.5))
        make_face(mode=Mode.SUBTRACT)
        with BuildLine():
            Line((-9.5, -10.5), (-9.5, -12.5))
            ThreePointArc((-9.5, -12.5), (-9.792893219, -13.207106781), (-10.5, -13.5))
            Line((-10.5, -13.5), (-12.5, -13.5))
            ThreePointArc((-12.5, -13.5), (-13.207106781, -13.207106781), (-13.5, -12.5))
            Line((-13.5, -12.5), (-13.5, -10.5))
            ThreePointArc((-13.5, -10.5), (-13.207106781, -9.792893219), (-12.5, -9.5))
            Line((-12.5, -9.5), (-10.5, -9.5))
            ThreePointArc((-10.5, -9.5), (-9.792893219, -9.792893219), (-9.5, -10.5))
        make_face(mode=Mode.SUBTRACT)
    extrude(amount=BOSS_EXTRUDE3_DEPTH)


solid = part.part
